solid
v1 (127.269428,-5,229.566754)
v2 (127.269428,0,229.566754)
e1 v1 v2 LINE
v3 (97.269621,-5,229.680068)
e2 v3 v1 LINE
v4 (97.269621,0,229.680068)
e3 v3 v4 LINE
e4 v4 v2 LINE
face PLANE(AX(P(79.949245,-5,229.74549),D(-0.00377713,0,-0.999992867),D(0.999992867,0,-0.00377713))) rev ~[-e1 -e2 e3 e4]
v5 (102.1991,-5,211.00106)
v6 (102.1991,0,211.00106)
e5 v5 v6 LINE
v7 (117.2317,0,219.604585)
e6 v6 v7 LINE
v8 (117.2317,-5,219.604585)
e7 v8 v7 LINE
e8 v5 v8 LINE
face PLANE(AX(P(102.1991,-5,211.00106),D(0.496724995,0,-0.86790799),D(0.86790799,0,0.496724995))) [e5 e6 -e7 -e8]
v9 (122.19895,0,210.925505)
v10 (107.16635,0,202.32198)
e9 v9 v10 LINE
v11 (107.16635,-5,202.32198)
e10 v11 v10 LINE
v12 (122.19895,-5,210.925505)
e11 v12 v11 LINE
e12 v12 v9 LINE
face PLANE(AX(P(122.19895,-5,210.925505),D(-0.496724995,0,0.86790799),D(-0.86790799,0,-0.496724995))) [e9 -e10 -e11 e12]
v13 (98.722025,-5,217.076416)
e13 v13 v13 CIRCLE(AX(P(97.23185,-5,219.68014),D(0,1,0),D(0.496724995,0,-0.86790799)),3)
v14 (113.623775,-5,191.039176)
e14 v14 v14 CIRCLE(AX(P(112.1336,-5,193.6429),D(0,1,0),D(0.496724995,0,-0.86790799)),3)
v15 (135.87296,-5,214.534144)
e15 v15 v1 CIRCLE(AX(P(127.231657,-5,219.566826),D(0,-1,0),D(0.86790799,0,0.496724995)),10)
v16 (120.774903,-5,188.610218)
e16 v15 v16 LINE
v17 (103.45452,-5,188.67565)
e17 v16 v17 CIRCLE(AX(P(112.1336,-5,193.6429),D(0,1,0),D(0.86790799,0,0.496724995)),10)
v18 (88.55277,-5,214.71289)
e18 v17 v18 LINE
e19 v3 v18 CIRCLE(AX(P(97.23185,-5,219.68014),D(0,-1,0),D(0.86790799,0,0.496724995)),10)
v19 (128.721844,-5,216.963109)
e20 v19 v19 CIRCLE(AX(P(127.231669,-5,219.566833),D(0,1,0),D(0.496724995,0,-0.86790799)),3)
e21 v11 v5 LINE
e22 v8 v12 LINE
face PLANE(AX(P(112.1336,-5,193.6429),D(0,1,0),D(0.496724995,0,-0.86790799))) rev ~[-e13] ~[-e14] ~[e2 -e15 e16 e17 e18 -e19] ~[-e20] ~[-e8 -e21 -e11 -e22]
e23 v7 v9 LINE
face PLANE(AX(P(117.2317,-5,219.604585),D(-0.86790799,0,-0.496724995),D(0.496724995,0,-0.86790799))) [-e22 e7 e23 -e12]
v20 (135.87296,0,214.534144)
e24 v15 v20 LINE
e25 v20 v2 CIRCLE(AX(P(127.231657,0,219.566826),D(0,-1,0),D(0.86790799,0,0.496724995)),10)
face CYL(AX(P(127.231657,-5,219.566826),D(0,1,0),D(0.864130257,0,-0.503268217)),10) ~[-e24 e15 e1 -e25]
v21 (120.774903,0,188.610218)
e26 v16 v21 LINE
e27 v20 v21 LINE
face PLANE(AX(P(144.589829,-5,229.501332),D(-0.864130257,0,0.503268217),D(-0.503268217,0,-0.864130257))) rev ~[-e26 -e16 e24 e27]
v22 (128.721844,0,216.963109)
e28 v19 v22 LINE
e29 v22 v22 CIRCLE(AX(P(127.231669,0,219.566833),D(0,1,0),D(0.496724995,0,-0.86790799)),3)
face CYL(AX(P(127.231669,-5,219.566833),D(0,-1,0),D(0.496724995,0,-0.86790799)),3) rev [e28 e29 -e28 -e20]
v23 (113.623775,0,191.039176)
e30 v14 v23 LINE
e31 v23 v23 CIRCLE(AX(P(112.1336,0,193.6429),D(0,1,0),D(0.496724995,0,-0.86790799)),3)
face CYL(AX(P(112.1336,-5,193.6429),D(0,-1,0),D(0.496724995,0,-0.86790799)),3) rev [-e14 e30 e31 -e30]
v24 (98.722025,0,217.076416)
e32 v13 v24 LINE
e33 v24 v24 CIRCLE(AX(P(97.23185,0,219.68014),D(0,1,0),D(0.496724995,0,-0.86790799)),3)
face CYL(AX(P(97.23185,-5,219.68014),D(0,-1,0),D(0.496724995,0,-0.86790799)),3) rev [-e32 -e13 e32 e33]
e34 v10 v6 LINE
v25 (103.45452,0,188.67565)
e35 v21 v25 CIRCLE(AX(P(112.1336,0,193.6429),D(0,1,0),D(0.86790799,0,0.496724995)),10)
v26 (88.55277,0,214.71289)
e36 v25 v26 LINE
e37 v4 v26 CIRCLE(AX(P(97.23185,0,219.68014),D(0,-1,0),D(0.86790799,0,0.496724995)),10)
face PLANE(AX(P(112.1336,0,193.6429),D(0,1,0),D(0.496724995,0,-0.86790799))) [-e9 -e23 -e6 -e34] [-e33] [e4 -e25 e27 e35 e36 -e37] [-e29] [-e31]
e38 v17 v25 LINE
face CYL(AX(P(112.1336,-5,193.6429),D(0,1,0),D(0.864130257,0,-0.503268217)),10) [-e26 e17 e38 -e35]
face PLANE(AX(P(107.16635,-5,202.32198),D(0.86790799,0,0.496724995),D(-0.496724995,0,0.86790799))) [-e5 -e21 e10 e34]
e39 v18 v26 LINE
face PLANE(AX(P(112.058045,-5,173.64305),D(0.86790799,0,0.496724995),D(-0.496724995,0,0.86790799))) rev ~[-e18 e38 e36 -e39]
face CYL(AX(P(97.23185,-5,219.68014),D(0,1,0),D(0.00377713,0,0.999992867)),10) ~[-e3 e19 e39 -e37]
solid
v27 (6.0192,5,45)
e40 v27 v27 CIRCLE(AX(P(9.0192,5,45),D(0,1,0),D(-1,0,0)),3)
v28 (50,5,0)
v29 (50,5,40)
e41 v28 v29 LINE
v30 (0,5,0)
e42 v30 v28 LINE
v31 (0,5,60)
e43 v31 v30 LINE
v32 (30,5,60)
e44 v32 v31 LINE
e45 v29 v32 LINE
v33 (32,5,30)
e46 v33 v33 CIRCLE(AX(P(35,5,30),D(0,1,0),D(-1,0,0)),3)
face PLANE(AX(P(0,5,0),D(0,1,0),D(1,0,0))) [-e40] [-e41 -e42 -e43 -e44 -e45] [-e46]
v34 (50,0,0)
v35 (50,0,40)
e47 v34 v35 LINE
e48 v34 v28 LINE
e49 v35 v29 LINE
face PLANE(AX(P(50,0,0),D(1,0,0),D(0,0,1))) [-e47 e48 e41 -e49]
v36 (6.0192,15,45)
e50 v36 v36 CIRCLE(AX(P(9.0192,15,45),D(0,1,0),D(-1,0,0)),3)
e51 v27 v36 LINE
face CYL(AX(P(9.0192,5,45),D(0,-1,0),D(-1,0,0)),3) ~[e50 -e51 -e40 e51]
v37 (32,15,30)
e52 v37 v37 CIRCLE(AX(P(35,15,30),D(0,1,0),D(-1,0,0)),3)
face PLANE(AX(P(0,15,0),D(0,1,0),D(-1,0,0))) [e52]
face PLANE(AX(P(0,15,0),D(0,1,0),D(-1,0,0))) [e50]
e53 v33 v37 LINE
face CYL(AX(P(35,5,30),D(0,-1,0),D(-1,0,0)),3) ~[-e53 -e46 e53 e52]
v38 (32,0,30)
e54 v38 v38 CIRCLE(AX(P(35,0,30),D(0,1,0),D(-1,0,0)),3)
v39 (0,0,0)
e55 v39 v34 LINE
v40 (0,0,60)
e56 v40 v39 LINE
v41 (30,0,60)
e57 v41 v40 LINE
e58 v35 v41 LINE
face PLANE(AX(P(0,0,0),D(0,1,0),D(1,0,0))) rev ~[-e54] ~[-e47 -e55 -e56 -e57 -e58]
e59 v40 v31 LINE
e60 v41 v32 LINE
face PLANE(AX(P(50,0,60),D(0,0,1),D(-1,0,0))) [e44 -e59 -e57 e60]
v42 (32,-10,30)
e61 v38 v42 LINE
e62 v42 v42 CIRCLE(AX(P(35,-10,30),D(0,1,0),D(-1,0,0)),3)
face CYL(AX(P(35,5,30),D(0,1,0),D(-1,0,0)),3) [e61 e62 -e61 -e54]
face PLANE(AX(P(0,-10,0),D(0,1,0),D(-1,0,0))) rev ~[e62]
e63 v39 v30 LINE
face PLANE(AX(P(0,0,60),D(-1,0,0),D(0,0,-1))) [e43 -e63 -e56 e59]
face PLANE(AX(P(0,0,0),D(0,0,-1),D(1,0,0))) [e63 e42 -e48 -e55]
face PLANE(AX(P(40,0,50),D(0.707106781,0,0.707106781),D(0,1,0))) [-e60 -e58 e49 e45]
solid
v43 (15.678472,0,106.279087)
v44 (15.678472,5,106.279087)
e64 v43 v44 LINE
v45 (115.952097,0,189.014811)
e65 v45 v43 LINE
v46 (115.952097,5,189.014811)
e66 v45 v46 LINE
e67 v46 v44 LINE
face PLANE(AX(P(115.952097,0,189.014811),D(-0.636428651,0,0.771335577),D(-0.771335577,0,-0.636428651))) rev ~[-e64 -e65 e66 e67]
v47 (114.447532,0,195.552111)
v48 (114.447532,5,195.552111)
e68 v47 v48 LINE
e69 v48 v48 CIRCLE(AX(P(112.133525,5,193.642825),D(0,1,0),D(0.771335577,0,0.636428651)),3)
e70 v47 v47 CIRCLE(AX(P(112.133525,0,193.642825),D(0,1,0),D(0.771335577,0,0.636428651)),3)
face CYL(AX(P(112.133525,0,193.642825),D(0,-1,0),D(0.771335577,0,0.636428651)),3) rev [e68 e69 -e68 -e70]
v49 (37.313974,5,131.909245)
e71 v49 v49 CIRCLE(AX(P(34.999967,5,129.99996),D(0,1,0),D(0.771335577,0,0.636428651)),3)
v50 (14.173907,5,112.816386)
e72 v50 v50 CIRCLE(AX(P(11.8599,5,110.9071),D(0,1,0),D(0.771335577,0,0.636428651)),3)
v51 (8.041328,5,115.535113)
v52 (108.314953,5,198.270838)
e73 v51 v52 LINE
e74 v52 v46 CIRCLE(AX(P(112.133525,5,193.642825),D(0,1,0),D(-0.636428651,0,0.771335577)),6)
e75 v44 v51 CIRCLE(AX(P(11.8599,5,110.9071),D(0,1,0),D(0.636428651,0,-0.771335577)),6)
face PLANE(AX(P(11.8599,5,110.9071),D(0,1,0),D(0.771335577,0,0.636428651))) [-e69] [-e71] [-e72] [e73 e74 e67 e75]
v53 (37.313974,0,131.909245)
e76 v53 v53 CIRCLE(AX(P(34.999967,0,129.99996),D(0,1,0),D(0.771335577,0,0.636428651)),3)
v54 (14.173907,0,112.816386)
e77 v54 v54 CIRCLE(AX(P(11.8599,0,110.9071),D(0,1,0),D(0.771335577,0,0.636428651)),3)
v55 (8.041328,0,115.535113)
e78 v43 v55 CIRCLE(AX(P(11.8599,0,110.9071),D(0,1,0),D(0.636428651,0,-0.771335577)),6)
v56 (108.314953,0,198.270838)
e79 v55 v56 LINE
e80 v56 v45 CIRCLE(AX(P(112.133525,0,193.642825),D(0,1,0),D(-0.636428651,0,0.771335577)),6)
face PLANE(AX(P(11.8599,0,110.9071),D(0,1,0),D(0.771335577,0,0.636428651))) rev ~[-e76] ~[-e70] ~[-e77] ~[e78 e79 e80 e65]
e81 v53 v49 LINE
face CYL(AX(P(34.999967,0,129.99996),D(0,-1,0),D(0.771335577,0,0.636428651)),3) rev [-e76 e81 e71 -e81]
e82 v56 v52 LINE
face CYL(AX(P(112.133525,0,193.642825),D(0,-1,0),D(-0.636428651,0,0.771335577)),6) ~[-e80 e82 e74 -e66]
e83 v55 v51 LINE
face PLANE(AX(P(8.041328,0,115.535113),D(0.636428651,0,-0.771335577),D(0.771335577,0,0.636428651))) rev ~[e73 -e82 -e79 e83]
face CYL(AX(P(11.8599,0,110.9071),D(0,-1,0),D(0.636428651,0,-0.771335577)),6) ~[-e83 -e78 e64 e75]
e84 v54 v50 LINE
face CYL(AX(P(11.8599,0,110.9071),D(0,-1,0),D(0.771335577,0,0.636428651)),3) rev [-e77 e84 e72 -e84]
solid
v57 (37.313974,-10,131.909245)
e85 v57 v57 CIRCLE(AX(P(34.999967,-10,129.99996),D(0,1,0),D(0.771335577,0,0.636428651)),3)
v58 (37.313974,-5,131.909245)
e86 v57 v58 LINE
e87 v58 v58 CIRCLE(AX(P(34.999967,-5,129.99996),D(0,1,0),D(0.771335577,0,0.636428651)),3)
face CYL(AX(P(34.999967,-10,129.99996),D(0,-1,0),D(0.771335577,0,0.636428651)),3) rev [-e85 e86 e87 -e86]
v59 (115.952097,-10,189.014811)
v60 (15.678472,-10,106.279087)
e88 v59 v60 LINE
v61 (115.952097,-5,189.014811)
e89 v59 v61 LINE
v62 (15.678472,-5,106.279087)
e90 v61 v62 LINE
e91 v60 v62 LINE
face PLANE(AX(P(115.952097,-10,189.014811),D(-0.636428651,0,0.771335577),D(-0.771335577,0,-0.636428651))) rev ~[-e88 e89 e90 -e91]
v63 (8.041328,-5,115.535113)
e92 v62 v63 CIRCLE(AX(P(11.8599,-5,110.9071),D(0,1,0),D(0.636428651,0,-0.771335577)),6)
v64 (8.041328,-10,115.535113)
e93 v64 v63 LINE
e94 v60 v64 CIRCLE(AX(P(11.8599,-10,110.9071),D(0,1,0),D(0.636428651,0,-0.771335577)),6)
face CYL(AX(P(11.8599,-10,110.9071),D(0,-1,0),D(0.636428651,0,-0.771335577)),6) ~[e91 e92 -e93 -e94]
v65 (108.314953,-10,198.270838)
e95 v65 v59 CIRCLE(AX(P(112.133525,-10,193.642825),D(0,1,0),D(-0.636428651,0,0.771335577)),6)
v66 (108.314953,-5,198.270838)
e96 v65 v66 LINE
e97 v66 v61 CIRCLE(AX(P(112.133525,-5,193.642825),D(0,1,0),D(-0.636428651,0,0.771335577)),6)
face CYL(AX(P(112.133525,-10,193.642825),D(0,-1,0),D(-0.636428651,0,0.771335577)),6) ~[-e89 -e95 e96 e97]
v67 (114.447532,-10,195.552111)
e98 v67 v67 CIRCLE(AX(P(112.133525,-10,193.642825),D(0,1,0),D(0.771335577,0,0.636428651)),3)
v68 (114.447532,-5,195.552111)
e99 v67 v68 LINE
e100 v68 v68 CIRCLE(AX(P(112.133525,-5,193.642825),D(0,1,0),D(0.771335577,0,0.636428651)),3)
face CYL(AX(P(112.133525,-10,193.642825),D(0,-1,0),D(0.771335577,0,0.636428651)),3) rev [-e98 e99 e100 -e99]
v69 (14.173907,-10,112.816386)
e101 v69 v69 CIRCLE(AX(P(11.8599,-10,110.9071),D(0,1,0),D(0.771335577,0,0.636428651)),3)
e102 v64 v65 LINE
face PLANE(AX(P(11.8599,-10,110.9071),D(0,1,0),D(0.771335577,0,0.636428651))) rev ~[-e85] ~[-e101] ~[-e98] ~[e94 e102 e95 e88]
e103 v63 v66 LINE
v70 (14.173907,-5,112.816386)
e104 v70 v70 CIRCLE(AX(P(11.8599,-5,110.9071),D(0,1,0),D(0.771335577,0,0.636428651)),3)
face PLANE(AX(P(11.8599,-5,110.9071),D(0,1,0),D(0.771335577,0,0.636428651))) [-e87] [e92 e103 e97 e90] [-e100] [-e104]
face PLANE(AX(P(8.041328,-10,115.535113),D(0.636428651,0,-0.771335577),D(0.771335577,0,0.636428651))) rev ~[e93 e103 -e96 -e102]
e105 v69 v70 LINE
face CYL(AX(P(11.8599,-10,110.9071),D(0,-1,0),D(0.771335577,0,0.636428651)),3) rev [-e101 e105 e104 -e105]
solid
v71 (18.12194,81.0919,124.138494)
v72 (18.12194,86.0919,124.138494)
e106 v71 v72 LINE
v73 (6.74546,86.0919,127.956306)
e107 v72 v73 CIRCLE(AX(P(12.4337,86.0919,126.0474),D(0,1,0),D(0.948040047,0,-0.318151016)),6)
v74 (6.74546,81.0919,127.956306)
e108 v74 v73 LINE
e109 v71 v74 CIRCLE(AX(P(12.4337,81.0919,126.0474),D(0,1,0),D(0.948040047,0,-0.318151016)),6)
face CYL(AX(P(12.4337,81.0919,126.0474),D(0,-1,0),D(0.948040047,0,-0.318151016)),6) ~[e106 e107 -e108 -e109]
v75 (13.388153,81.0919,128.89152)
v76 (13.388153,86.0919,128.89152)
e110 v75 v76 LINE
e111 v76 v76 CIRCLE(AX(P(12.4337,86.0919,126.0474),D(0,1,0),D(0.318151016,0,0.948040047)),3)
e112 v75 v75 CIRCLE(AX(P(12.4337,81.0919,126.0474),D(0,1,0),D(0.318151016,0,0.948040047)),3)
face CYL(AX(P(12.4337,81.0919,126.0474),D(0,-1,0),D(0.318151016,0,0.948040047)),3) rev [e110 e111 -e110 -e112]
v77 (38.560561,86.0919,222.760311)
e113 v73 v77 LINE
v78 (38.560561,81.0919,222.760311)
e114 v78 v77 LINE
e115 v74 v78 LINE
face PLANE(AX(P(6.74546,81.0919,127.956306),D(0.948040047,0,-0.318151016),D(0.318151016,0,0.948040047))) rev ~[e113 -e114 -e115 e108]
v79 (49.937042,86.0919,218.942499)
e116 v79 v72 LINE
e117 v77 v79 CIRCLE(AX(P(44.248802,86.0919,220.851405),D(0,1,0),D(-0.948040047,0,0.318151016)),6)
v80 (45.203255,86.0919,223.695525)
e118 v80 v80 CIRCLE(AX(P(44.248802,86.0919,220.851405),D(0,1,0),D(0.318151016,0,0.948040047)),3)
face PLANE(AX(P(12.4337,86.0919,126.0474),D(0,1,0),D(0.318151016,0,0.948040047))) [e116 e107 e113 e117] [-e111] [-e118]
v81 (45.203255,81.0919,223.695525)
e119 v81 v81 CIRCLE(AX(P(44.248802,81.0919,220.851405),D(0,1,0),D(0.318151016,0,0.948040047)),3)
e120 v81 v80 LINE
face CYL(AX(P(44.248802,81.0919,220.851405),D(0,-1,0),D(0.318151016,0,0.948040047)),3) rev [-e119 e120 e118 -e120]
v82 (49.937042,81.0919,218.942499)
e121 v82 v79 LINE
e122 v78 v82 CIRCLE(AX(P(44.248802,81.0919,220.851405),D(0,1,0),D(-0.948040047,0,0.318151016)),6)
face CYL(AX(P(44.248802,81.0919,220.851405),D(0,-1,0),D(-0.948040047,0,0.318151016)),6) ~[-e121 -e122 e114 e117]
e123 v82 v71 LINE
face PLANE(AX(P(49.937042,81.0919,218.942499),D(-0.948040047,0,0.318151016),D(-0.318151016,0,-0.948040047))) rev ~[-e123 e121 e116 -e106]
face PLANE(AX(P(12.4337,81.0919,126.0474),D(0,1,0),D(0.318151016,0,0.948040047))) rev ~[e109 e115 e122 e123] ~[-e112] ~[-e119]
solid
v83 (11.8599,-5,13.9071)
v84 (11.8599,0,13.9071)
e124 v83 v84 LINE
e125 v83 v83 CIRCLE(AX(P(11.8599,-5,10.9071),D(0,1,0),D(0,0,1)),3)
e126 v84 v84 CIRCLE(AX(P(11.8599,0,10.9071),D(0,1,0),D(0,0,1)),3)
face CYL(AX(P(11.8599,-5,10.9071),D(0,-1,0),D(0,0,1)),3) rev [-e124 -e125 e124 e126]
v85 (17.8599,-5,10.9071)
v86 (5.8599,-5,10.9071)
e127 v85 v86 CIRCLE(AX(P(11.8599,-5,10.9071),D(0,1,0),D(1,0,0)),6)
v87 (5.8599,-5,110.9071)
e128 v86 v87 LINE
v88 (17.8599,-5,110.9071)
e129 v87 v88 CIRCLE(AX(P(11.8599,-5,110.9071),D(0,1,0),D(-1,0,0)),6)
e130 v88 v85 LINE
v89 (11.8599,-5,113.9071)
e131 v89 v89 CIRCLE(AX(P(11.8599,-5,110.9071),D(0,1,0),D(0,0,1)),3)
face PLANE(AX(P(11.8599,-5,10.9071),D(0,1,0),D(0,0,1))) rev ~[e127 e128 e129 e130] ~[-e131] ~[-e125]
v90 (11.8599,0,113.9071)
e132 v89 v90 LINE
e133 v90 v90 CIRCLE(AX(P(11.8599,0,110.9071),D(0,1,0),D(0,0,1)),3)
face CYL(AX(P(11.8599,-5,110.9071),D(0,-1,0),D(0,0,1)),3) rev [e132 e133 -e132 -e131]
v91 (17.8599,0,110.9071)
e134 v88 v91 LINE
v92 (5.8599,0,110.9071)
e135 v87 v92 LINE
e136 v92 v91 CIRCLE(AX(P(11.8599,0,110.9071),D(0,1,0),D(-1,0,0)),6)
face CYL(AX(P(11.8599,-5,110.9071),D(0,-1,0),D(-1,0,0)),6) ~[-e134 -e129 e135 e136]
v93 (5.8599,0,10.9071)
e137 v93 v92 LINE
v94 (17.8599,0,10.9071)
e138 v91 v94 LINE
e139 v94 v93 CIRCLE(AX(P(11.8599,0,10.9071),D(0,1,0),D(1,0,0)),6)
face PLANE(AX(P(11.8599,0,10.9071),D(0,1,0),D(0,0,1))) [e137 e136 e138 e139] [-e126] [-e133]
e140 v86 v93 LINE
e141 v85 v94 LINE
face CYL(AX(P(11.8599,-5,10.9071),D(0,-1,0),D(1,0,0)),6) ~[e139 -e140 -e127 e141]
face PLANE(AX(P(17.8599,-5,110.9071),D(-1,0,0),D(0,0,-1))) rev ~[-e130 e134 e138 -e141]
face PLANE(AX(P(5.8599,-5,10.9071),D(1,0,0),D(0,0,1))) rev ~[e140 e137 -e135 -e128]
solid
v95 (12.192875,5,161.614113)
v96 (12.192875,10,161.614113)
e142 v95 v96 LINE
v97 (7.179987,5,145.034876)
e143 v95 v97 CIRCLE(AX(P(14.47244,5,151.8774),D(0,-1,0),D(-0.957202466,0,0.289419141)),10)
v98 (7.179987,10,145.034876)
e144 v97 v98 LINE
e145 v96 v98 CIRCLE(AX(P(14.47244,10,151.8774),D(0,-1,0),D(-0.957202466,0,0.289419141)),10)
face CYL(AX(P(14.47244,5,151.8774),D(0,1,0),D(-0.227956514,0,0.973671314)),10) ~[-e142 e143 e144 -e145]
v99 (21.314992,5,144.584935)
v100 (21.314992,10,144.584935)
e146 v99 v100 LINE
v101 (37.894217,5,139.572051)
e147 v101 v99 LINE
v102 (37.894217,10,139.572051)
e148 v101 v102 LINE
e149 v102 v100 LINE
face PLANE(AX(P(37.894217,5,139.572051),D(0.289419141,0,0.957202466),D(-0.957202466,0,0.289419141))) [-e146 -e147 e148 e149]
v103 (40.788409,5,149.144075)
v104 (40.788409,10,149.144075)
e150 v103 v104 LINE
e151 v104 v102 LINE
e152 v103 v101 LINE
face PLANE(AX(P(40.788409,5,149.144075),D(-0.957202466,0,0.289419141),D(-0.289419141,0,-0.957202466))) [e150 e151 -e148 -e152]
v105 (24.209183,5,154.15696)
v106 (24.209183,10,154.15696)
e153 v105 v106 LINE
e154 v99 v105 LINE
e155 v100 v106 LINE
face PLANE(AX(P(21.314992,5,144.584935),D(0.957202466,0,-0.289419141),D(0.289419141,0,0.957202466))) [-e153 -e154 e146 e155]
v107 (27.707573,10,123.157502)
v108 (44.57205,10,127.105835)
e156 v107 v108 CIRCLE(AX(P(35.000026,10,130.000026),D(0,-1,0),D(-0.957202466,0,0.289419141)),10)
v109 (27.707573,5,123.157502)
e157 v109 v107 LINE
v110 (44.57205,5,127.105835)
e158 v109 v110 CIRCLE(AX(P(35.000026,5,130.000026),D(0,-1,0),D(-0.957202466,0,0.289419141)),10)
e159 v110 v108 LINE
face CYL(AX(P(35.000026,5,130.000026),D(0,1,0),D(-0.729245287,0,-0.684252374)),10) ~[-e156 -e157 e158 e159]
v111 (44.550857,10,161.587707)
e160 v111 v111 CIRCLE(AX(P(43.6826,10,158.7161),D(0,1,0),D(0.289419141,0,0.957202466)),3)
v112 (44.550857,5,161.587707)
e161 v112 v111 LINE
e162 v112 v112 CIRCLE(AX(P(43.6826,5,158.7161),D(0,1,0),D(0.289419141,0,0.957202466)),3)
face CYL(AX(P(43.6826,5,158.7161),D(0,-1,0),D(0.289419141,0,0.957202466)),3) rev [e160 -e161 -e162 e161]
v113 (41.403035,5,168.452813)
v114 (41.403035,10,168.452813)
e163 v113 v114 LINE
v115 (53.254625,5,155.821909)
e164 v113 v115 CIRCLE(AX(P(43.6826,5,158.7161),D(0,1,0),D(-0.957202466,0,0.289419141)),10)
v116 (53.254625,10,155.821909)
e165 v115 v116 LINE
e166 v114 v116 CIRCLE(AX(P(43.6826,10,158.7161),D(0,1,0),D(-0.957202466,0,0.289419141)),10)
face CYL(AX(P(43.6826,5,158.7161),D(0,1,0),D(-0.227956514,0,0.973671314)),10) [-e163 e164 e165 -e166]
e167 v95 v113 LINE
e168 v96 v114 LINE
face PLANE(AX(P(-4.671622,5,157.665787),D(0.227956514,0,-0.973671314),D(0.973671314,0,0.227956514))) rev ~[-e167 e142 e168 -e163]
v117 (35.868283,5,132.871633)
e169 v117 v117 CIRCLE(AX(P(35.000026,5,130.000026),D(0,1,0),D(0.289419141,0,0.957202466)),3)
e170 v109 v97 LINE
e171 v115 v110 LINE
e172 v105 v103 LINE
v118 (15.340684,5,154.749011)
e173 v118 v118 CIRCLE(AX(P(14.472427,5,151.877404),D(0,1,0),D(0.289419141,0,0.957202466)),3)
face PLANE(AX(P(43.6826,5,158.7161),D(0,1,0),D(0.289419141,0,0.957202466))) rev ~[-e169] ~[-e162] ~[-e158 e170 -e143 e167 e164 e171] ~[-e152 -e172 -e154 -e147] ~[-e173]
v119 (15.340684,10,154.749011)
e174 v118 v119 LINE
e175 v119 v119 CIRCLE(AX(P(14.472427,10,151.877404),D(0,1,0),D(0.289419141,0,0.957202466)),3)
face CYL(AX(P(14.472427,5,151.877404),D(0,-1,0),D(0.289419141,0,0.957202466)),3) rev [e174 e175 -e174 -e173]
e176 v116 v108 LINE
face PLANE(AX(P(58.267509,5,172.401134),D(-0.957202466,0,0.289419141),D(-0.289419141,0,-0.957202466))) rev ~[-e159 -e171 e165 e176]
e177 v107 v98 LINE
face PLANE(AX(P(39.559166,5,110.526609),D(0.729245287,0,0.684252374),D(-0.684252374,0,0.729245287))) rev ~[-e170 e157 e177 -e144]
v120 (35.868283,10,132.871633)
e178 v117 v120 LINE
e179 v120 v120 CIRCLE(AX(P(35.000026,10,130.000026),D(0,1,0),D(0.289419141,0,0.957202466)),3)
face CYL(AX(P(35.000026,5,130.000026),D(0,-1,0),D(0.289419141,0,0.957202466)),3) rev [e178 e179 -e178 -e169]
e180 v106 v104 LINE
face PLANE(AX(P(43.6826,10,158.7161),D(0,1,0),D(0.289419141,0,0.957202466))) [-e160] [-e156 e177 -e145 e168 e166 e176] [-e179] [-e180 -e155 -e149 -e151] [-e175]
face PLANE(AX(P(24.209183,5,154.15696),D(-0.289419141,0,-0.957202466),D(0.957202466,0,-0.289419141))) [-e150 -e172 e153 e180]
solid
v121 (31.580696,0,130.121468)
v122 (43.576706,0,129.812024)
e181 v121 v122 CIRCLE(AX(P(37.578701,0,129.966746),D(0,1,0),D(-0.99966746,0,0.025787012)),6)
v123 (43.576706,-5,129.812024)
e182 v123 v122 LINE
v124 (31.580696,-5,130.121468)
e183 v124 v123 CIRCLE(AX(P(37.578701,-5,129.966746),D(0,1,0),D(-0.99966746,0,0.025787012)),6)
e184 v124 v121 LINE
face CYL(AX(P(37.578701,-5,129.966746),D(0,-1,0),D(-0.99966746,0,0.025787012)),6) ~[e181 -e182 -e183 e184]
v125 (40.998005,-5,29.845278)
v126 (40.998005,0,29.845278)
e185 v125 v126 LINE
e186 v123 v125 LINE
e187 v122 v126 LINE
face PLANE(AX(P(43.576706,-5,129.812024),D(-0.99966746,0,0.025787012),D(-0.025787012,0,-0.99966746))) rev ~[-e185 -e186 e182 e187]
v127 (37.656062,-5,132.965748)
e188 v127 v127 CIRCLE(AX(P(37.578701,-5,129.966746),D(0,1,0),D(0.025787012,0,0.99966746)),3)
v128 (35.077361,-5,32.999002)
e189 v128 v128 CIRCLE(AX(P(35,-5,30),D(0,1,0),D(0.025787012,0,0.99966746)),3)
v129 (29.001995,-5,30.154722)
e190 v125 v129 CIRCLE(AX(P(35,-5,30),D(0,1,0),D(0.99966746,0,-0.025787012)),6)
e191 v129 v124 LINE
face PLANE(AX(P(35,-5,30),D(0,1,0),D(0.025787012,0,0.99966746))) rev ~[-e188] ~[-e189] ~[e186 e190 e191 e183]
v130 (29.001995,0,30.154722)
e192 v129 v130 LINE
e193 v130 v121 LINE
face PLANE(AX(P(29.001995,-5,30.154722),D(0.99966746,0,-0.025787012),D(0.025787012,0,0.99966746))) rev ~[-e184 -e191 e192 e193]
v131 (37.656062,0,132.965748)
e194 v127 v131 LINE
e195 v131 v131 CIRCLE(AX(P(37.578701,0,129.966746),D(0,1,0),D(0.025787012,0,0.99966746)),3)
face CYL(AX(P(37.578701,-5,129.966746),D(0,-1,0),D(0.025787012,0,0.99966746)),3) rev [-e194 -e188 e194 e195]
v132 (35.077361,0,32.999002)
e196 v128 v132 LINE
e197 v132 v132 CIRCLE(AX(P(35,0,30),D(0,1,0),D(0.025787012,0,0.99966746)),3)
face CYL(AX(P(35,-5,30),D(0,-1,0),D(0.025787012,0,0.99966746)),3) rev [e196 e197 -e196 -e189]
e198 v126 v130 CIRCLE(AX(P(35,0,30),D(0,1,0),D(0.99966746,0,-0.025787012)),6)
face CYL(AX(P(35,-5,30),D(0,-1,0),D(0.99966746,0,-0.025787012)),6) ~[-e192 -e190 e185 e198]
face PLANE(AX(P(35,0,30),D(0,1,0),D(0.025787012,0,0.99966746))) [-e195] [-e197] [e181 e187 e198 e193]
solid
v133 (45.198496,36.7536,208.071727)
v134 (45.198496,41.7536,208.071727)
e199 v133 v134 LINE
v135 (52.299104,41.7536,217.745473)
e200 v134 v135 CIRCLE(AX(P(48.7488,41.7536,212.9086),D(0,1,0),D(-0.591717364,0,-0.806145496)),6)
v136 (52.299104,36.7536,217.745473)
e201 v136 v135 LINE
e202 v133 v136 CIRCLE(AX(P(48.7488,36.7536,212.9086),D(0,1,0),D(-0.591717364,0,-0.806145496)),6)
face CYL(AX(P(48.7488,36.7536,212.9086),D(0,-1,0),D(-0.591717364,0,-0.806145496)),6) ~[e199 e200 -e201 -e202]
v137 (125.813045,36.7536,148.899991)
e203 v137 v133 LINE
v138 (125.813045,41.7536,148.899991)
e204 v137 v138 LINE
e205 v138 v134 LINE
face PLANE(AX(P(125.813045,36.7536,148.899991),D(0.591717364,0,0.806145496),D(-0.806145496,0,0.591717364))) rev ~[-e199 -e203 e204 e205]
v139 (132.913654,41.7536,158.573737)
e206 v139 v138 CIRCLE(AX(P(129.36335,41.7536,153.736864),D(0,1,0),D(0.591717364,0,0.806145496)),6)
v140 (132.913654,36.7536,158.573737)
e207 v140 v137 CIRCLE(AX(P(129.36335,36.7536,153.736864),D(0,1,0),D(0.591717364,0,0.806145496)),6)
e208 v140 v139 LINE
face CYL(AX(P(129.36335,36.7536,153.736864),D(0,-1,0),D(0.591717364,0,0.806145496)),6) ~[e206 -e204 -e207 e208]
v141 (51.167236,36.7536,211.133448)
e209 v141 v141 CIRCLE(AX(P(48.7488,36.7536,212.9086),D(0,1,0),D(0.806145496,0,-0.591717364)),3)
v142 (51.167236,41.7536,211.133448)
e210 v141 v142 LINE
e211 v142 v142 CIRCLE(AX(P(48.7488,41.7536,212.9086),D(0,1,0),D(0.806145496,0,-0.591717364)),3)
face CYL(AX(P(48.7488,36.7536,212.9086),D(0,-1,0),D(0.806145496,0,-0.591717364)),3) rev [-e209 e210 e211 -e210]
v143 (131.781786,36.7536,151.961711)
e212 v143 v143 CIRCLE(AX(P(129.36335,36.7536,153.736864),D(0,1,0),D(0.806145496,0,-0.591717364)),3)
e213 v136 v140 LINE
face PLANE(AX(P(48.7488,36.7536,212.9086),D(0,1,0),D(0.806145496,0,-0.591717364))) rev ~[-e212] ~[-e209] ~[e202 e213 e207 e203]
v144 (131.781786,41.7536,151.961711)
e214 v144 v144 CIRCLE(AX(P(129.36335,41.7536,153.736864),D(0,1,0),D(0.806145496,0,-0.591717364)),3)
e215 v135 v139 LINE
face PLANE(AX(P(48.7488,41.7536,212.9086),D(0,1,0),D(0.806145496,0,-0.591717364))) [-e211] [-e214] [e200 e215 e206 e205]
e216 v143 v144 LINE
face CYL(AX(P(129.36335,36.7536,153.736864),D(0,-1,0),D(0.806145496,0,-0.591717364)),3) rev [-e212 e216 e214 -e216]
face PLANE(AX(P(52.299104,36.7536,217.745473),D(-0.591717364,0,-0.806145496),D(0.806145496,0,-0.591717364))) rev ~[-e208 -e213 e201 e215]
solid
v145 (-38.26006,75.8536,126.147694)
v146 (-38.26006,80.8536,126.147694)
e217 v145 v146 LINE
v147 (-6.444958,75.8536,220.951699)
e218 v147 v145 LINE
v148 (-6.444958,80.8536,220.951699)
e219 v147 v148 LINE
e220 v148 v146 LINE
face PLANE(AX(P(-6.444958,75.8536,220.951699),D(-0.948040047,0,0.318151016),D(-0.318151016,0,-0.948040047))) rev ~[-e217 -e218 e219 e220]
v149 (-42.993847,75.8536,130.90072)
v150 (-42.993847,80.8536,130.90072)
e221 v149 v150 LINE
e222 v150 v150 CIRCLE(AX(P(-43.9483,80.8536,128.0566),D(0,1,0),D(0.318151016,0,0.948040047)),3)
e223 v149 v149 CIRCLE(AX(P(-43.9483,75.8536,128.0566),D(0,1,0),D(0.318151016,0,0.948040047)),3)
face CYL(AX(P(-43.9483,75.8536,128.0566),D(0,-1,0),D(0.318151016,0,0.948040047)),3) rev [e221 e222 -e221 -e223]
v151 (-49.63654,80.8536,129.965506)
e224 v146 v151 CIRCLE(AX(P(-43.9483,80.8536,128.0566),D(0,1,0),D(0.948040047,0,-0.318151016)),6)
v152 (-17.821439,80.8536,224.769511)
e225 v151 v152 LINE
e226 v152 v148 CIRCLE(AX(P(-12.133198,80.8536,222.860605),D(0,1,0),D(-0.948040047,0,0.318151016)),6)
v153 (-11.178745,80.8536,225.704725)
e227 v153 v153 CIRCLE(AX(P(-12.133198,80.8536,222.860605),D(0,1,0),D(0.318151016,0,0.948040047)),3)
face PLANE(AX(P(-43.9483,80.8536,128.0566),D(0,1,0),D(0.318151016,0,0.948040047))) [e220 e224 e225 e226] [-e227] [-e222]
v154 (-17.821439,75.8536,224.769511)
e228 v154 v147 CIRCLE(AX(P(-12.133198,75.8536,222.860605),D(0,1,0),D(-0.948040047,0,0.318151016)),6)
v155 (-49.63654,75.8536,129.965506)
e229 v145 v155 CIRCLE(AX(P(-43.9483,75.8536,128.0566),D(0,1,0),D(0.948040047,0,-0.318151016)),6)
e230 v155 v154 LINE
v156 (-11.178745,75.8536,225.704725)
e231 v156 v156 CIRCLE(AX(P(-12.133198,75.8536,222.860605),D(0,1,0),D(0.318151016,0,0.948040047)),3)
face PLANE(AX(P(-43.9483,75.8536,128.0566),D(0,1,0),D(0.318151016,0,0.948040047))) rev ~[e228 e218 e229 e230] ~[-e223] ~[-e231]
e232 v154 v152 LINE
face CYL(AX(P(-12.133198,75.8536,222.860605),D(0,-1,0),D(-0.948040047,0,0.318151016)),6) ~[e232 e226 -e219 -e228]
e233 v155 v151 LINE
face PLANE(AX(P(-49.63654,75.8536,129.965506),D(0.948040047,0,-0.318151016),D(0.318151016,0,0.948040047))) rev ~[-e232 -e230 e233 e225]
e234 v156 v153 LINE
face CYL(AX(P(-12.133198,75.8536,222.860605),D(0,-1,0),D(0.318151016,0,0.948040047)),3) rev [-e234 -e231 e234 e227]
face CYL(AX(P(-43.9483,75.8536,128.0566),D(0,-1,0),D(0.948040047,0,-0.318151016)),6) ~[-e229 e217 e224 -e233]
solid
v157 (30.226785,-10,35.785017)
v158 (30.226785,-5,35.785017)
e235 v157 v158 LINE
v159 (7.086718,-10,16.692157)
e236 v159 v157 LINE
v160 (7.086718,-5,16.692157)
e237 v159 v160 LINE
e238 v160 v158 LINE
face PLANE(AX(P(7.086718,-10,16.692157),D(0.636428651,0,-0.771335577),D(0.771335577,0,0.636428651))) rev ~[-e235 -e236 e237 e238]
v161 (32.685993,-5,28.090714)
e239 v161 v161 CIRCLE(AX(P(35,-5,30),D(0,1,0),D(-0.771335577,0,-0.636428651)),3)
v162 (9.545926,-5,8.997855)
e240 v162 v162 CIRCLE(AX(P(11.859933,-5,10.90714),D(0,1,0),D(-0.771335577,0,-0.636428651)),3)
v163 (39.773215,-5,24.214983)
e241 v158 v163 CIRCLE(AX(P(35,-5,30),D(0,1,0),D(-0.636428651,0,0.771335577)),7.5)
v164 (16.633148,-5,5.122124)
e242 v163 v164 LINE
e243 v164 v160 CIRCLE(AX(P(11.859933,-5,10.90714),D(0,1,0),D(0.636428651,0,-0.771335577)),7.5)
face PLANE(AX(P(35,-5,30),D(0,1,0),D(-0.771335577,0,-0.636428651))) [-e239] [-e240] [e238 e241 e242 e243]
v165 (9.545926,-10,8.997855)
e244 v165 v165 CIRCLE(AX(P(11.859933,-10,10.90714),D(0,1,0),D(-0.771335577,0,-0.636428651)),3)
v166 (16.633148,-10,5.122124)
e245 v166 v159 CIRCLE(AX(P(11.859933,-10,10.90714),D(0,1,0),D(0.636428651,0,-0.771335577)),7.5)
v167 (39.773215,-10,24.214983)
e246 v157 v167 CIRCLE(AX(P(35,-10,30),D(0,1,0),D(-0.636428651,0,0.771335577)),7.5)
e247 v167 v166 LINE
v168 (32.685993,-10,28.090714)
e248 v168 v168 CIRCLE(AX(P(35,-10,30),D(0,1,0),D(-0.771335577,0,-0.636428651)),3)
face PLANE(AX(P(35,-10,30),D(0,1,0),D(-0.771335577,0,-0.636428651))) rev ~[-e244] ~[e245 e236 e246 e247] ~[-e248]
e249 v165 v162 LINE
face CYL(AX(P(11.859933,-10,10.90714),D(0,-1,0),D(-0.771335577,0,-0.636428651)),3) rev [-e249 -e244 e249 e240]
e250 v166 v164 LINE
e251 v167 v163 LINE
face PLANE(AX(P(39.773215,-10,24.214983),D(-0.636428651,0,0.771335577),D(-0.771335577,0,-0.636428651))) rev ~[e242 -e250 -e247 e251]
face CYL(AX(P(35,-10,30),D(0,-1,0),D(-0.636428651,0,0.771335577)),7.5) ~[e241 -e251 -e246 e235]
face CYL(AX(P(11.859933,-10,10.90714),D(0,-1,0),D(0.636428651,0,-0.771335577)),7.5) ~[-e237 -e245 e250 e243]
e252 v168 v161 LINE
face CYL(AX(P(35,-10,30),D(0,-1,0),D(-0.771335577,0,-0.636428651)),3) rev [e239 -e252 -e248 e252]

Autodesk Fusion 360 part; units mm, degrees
sketch "Sketch1" plane through (0, 0, 0) normal (0, 1, 0) x (1, 0, 0) in component "Component"
  line L0 (0, 0) -> (50, 0)
  line L1 (50, 0) -> (50, -60)
  line L2 (50, -60) -> (0, -60)
  line L3 (0, -60) -> (0, 0)
  dimension "d1" = 50
  dimension "d2" = 60
extrude "Extrude1" add sketch "Sketch1" along normal blind 5 makes body 1 in component "Component"
sketch "Sketch1 (2)" plane through (0, 0, 0) normal (0, 1, 0) x (1, 0, 0) in component "Component'"
  line L0 (0, -6) -> (100, -6)
  arc A0 (100, -6) -> (100, 6) centre (100, 0) ccw
  line L1 (100, 6) -> (0, 6)
  arc A1 (0, 6) -> (0, -6) centre (0, 0) ccw
  line L2 (0, 0) -> (100, 0) construction
  circle A2 centre (0, 0) radius 3
  circle A3 centre (100, 0) radius 3
  dimension "d8" = 12
  dimension "d9" = 6
  dimension "d10" = 6
  dimension "d13" = 100
extrude "Extrude1'" add sketch "Sketch1 (2)" along normal blind 5 separate body makes body 2 in component "Component'"
sketch "Sketch1 (3)" plane through (0, 0, 0) normal (0, 1, 0) x (1, 0, 0) in component "Component''"
  line L0 (0, -6) -> (130, -6)
  arc A0 (130, -6) -> (130, 6) centre (130, 0) ccw
  line L1 (130, 6) -> (0, 6)
  arc A1 (0, 6) -> (0, -6) centre (0, 0) ccw
  line L2 (0, 0) -> (130, 0) construction
  circle A2 centre (0, 0) radius 3
  circle A3 centre (30, 0) radius 3
  circle A4 centre (130, 0) radius 3
  dimension "d14" = 12
  dimension "d15" = 6
  dimension "d16" = 6
  dimension "d17" = 6
  dimension "d18" = 30
  dimension "d19" = 100
extrude "Extrude1''" add sketch "Sketch1 (3)" along normal blind 5 separate body makes body 3 in component "Component''"
sketch "Sketch1 (4)" plane through (0, 0, 0) normal (0, 1, 0) x (1, 0, 0) in component "Component'''"
  line L0 (0, -7.5) -> (30, -7.5)
  arc A0 (30, -7.5) -> (30, 7.5) centre (30, 0) ccw
  line L1 (30, 7.5) -> (0, 7.5)
  arc A1 (0, 7.5) -> (0, -7.5) centre (0, 0) ccw
  line L2 (0, 0) -> (30, 0) construction
  circle A2 centre (0, 0) radius 3
  circle A3 centre (30, 0) radius 3
  dimension "d8_1" = 15
  dimension "d9_1" = 6
  dimension "d10_1" = 6
  dimension "d13_1" = 30
extrude "Extrude1'''" add sketch "Sketch1 (4)" along normal blind 5 separate body makes body 4 in component "Component'''"
sketch "Sketch1 (5)" plane through (0, 0, 0) normal (0, 1, 0) x (1, 0, 0) in component "Component''''"
  circle A0 centre (0, 0) radius 3
  line L0 (0, 0) -> (-30, 0) construction
  line L1 (-30, 0) -> (-15, -25.9808) construction
  line L2 (-15, -25.9808) -> (0, 0) construction
  line L3 (17.3205, 10) -> (-47.3205, 10)
  line L4 (-47.3205, 10) -> (-15, -45.9808)
  line L5 (-15, -45.9808) -> (17.3205, 10)
  circle A1 centre (-15, -25.9808) radius 3
  circle A2 centre (-30, 0) radius 3
  line L6 (-20, -17.3205) -> (-10, -17.3205)
  line L7 (-10, -17.3205) -> (-10, 0)
  line L8 (-10, 0) -> (-20, 0)
  line L9 (-20, 0) -> (-20, -17.3205)
  dimension "d126" = 30
  dimension "d127" = 10
  dimension "d128" = 6
  dimension "d375" = 10
extrude "Extrude1''''" add sketch "Sketch1 (5)" along normal blind 5 separate body makes body 5 in component "Component''''"
fillet "Fillet1" radius 10 3 edges at (-15, 2.5, 45.9808) (17.3205, 2.5, -10) (-47.3205, 2.5, -10) on bodies 5 in component "Component''''"
sketch "Sketch2" plane through (0, 5, 0) normal (0, 1, 0) x (-1, 0, 0) in component "Component"
  line L0 (0, 60) -> (-50, 60)
  line L1 (-50, 60) -> (-50, 0)
  line L2 (-50, 0) -> (0, 0)
  line L3 (0, 0) -> (0, 60)
  circle A0 centre (-35, 30) radius 3
  dimension "d202" = 6
  dimension "d203" = 15
  dimension "d204" = 30
extrude "Extrude2" add sketch "Sketch2" along normal blind 10 and the other way blind 15 contours A0 bodies 1 in component "Component"
sketch "Sketch3" plane through (0, 5, 0) normal (0, 1, 0) x (-1, 0, 0) in component "Component"
  circle A0 centre (-35, 30) radius 3
  line L0 (0, 60) -> (-50, 60)
  line L1 (-50, 60) -> (-50, 0)
  line L2 (-50, 0) -> (0, 0)
  line L3 (0, 0) -> (0, 60)
  circle A1 centre (-9.0192, 45) radius 3
  line L4 (-35, 30) -> (-9.0192, 45) construction
  line L5 (-35, 30) -> (-5, 30) construction
  dimension "d216" = 6
  dimension "d217" = 30
  dimension "d218" = 30
chamfer "Chamfer2" distance 20 angle 45 1 edges at (50, 2.5, 60) on bodies 1 in component "Component"
extrude "Extrude4" add sketch "Sketch3" along normal blind 10 contours A1 bodies 1 in component "Component"
component "Component" placed x (1, 0, 0) y (0, 1, 0) z (0, 0, 1) at (0, 0, 0)
component "Component'" placed x (0.318151, 0, 0.94804) y (0, 1, 0) z (-0.94804, 0, 0.318151) at (12.4337, 81.0919, 126.0474)
component "Component''" placed x (0.771336, 0, 0.636429) y (0, 1, 0) z (-0.636429, 0, 0.771336) at (11.8599, -10, 110.9071)
component "Component'''" placed x (-0.771336, 0, -0.636429) y (0, 1, 0) z (0.636429, 0, -0.771336) at (35, -10, 30)
component "Component'" placed x (0, 0, 1) y (0, 1, 0) z (-1, 0, 0) at (11.8599, -5, 10.9071)
component "Component''''" placed x (0.496725, 0, -0.867908) y (0, 1, 0) z (0.867908, 0, 0.496725) at (112.1336, -5, 193.6429)
component "Component''''" placed x (0.289419, 0, 0.957202) y (0, 1, 0) z (-0.957202, 0, 0.289419) at (43.6826, 5, 158.7161)
component "Component'" placed x (0.318151, 0, 0.94804) y (0, 1, 0) z (-0.94804, 0, 0.318151) at (-43.9483, 75.8536, 128.0566)
component "Component'" placed x (0.806145, 0, -0.591717) y (0, 1, 0) z (0.591717, 0, 0.806145) at (48.7488, 36.7536, 212.9086)
component "Component'" placed x (0.025787, 0, 0.999667) y (0, 1, 0) z (-0.999667, 0, 0.025787) at (35, -5, 30)
component "Component''" placed x (0.771336, 0, 0.636429) y (0, 1, 0) z (-0.636429, 0, 0.771336) at (11.8599, 0, 110.9071)
